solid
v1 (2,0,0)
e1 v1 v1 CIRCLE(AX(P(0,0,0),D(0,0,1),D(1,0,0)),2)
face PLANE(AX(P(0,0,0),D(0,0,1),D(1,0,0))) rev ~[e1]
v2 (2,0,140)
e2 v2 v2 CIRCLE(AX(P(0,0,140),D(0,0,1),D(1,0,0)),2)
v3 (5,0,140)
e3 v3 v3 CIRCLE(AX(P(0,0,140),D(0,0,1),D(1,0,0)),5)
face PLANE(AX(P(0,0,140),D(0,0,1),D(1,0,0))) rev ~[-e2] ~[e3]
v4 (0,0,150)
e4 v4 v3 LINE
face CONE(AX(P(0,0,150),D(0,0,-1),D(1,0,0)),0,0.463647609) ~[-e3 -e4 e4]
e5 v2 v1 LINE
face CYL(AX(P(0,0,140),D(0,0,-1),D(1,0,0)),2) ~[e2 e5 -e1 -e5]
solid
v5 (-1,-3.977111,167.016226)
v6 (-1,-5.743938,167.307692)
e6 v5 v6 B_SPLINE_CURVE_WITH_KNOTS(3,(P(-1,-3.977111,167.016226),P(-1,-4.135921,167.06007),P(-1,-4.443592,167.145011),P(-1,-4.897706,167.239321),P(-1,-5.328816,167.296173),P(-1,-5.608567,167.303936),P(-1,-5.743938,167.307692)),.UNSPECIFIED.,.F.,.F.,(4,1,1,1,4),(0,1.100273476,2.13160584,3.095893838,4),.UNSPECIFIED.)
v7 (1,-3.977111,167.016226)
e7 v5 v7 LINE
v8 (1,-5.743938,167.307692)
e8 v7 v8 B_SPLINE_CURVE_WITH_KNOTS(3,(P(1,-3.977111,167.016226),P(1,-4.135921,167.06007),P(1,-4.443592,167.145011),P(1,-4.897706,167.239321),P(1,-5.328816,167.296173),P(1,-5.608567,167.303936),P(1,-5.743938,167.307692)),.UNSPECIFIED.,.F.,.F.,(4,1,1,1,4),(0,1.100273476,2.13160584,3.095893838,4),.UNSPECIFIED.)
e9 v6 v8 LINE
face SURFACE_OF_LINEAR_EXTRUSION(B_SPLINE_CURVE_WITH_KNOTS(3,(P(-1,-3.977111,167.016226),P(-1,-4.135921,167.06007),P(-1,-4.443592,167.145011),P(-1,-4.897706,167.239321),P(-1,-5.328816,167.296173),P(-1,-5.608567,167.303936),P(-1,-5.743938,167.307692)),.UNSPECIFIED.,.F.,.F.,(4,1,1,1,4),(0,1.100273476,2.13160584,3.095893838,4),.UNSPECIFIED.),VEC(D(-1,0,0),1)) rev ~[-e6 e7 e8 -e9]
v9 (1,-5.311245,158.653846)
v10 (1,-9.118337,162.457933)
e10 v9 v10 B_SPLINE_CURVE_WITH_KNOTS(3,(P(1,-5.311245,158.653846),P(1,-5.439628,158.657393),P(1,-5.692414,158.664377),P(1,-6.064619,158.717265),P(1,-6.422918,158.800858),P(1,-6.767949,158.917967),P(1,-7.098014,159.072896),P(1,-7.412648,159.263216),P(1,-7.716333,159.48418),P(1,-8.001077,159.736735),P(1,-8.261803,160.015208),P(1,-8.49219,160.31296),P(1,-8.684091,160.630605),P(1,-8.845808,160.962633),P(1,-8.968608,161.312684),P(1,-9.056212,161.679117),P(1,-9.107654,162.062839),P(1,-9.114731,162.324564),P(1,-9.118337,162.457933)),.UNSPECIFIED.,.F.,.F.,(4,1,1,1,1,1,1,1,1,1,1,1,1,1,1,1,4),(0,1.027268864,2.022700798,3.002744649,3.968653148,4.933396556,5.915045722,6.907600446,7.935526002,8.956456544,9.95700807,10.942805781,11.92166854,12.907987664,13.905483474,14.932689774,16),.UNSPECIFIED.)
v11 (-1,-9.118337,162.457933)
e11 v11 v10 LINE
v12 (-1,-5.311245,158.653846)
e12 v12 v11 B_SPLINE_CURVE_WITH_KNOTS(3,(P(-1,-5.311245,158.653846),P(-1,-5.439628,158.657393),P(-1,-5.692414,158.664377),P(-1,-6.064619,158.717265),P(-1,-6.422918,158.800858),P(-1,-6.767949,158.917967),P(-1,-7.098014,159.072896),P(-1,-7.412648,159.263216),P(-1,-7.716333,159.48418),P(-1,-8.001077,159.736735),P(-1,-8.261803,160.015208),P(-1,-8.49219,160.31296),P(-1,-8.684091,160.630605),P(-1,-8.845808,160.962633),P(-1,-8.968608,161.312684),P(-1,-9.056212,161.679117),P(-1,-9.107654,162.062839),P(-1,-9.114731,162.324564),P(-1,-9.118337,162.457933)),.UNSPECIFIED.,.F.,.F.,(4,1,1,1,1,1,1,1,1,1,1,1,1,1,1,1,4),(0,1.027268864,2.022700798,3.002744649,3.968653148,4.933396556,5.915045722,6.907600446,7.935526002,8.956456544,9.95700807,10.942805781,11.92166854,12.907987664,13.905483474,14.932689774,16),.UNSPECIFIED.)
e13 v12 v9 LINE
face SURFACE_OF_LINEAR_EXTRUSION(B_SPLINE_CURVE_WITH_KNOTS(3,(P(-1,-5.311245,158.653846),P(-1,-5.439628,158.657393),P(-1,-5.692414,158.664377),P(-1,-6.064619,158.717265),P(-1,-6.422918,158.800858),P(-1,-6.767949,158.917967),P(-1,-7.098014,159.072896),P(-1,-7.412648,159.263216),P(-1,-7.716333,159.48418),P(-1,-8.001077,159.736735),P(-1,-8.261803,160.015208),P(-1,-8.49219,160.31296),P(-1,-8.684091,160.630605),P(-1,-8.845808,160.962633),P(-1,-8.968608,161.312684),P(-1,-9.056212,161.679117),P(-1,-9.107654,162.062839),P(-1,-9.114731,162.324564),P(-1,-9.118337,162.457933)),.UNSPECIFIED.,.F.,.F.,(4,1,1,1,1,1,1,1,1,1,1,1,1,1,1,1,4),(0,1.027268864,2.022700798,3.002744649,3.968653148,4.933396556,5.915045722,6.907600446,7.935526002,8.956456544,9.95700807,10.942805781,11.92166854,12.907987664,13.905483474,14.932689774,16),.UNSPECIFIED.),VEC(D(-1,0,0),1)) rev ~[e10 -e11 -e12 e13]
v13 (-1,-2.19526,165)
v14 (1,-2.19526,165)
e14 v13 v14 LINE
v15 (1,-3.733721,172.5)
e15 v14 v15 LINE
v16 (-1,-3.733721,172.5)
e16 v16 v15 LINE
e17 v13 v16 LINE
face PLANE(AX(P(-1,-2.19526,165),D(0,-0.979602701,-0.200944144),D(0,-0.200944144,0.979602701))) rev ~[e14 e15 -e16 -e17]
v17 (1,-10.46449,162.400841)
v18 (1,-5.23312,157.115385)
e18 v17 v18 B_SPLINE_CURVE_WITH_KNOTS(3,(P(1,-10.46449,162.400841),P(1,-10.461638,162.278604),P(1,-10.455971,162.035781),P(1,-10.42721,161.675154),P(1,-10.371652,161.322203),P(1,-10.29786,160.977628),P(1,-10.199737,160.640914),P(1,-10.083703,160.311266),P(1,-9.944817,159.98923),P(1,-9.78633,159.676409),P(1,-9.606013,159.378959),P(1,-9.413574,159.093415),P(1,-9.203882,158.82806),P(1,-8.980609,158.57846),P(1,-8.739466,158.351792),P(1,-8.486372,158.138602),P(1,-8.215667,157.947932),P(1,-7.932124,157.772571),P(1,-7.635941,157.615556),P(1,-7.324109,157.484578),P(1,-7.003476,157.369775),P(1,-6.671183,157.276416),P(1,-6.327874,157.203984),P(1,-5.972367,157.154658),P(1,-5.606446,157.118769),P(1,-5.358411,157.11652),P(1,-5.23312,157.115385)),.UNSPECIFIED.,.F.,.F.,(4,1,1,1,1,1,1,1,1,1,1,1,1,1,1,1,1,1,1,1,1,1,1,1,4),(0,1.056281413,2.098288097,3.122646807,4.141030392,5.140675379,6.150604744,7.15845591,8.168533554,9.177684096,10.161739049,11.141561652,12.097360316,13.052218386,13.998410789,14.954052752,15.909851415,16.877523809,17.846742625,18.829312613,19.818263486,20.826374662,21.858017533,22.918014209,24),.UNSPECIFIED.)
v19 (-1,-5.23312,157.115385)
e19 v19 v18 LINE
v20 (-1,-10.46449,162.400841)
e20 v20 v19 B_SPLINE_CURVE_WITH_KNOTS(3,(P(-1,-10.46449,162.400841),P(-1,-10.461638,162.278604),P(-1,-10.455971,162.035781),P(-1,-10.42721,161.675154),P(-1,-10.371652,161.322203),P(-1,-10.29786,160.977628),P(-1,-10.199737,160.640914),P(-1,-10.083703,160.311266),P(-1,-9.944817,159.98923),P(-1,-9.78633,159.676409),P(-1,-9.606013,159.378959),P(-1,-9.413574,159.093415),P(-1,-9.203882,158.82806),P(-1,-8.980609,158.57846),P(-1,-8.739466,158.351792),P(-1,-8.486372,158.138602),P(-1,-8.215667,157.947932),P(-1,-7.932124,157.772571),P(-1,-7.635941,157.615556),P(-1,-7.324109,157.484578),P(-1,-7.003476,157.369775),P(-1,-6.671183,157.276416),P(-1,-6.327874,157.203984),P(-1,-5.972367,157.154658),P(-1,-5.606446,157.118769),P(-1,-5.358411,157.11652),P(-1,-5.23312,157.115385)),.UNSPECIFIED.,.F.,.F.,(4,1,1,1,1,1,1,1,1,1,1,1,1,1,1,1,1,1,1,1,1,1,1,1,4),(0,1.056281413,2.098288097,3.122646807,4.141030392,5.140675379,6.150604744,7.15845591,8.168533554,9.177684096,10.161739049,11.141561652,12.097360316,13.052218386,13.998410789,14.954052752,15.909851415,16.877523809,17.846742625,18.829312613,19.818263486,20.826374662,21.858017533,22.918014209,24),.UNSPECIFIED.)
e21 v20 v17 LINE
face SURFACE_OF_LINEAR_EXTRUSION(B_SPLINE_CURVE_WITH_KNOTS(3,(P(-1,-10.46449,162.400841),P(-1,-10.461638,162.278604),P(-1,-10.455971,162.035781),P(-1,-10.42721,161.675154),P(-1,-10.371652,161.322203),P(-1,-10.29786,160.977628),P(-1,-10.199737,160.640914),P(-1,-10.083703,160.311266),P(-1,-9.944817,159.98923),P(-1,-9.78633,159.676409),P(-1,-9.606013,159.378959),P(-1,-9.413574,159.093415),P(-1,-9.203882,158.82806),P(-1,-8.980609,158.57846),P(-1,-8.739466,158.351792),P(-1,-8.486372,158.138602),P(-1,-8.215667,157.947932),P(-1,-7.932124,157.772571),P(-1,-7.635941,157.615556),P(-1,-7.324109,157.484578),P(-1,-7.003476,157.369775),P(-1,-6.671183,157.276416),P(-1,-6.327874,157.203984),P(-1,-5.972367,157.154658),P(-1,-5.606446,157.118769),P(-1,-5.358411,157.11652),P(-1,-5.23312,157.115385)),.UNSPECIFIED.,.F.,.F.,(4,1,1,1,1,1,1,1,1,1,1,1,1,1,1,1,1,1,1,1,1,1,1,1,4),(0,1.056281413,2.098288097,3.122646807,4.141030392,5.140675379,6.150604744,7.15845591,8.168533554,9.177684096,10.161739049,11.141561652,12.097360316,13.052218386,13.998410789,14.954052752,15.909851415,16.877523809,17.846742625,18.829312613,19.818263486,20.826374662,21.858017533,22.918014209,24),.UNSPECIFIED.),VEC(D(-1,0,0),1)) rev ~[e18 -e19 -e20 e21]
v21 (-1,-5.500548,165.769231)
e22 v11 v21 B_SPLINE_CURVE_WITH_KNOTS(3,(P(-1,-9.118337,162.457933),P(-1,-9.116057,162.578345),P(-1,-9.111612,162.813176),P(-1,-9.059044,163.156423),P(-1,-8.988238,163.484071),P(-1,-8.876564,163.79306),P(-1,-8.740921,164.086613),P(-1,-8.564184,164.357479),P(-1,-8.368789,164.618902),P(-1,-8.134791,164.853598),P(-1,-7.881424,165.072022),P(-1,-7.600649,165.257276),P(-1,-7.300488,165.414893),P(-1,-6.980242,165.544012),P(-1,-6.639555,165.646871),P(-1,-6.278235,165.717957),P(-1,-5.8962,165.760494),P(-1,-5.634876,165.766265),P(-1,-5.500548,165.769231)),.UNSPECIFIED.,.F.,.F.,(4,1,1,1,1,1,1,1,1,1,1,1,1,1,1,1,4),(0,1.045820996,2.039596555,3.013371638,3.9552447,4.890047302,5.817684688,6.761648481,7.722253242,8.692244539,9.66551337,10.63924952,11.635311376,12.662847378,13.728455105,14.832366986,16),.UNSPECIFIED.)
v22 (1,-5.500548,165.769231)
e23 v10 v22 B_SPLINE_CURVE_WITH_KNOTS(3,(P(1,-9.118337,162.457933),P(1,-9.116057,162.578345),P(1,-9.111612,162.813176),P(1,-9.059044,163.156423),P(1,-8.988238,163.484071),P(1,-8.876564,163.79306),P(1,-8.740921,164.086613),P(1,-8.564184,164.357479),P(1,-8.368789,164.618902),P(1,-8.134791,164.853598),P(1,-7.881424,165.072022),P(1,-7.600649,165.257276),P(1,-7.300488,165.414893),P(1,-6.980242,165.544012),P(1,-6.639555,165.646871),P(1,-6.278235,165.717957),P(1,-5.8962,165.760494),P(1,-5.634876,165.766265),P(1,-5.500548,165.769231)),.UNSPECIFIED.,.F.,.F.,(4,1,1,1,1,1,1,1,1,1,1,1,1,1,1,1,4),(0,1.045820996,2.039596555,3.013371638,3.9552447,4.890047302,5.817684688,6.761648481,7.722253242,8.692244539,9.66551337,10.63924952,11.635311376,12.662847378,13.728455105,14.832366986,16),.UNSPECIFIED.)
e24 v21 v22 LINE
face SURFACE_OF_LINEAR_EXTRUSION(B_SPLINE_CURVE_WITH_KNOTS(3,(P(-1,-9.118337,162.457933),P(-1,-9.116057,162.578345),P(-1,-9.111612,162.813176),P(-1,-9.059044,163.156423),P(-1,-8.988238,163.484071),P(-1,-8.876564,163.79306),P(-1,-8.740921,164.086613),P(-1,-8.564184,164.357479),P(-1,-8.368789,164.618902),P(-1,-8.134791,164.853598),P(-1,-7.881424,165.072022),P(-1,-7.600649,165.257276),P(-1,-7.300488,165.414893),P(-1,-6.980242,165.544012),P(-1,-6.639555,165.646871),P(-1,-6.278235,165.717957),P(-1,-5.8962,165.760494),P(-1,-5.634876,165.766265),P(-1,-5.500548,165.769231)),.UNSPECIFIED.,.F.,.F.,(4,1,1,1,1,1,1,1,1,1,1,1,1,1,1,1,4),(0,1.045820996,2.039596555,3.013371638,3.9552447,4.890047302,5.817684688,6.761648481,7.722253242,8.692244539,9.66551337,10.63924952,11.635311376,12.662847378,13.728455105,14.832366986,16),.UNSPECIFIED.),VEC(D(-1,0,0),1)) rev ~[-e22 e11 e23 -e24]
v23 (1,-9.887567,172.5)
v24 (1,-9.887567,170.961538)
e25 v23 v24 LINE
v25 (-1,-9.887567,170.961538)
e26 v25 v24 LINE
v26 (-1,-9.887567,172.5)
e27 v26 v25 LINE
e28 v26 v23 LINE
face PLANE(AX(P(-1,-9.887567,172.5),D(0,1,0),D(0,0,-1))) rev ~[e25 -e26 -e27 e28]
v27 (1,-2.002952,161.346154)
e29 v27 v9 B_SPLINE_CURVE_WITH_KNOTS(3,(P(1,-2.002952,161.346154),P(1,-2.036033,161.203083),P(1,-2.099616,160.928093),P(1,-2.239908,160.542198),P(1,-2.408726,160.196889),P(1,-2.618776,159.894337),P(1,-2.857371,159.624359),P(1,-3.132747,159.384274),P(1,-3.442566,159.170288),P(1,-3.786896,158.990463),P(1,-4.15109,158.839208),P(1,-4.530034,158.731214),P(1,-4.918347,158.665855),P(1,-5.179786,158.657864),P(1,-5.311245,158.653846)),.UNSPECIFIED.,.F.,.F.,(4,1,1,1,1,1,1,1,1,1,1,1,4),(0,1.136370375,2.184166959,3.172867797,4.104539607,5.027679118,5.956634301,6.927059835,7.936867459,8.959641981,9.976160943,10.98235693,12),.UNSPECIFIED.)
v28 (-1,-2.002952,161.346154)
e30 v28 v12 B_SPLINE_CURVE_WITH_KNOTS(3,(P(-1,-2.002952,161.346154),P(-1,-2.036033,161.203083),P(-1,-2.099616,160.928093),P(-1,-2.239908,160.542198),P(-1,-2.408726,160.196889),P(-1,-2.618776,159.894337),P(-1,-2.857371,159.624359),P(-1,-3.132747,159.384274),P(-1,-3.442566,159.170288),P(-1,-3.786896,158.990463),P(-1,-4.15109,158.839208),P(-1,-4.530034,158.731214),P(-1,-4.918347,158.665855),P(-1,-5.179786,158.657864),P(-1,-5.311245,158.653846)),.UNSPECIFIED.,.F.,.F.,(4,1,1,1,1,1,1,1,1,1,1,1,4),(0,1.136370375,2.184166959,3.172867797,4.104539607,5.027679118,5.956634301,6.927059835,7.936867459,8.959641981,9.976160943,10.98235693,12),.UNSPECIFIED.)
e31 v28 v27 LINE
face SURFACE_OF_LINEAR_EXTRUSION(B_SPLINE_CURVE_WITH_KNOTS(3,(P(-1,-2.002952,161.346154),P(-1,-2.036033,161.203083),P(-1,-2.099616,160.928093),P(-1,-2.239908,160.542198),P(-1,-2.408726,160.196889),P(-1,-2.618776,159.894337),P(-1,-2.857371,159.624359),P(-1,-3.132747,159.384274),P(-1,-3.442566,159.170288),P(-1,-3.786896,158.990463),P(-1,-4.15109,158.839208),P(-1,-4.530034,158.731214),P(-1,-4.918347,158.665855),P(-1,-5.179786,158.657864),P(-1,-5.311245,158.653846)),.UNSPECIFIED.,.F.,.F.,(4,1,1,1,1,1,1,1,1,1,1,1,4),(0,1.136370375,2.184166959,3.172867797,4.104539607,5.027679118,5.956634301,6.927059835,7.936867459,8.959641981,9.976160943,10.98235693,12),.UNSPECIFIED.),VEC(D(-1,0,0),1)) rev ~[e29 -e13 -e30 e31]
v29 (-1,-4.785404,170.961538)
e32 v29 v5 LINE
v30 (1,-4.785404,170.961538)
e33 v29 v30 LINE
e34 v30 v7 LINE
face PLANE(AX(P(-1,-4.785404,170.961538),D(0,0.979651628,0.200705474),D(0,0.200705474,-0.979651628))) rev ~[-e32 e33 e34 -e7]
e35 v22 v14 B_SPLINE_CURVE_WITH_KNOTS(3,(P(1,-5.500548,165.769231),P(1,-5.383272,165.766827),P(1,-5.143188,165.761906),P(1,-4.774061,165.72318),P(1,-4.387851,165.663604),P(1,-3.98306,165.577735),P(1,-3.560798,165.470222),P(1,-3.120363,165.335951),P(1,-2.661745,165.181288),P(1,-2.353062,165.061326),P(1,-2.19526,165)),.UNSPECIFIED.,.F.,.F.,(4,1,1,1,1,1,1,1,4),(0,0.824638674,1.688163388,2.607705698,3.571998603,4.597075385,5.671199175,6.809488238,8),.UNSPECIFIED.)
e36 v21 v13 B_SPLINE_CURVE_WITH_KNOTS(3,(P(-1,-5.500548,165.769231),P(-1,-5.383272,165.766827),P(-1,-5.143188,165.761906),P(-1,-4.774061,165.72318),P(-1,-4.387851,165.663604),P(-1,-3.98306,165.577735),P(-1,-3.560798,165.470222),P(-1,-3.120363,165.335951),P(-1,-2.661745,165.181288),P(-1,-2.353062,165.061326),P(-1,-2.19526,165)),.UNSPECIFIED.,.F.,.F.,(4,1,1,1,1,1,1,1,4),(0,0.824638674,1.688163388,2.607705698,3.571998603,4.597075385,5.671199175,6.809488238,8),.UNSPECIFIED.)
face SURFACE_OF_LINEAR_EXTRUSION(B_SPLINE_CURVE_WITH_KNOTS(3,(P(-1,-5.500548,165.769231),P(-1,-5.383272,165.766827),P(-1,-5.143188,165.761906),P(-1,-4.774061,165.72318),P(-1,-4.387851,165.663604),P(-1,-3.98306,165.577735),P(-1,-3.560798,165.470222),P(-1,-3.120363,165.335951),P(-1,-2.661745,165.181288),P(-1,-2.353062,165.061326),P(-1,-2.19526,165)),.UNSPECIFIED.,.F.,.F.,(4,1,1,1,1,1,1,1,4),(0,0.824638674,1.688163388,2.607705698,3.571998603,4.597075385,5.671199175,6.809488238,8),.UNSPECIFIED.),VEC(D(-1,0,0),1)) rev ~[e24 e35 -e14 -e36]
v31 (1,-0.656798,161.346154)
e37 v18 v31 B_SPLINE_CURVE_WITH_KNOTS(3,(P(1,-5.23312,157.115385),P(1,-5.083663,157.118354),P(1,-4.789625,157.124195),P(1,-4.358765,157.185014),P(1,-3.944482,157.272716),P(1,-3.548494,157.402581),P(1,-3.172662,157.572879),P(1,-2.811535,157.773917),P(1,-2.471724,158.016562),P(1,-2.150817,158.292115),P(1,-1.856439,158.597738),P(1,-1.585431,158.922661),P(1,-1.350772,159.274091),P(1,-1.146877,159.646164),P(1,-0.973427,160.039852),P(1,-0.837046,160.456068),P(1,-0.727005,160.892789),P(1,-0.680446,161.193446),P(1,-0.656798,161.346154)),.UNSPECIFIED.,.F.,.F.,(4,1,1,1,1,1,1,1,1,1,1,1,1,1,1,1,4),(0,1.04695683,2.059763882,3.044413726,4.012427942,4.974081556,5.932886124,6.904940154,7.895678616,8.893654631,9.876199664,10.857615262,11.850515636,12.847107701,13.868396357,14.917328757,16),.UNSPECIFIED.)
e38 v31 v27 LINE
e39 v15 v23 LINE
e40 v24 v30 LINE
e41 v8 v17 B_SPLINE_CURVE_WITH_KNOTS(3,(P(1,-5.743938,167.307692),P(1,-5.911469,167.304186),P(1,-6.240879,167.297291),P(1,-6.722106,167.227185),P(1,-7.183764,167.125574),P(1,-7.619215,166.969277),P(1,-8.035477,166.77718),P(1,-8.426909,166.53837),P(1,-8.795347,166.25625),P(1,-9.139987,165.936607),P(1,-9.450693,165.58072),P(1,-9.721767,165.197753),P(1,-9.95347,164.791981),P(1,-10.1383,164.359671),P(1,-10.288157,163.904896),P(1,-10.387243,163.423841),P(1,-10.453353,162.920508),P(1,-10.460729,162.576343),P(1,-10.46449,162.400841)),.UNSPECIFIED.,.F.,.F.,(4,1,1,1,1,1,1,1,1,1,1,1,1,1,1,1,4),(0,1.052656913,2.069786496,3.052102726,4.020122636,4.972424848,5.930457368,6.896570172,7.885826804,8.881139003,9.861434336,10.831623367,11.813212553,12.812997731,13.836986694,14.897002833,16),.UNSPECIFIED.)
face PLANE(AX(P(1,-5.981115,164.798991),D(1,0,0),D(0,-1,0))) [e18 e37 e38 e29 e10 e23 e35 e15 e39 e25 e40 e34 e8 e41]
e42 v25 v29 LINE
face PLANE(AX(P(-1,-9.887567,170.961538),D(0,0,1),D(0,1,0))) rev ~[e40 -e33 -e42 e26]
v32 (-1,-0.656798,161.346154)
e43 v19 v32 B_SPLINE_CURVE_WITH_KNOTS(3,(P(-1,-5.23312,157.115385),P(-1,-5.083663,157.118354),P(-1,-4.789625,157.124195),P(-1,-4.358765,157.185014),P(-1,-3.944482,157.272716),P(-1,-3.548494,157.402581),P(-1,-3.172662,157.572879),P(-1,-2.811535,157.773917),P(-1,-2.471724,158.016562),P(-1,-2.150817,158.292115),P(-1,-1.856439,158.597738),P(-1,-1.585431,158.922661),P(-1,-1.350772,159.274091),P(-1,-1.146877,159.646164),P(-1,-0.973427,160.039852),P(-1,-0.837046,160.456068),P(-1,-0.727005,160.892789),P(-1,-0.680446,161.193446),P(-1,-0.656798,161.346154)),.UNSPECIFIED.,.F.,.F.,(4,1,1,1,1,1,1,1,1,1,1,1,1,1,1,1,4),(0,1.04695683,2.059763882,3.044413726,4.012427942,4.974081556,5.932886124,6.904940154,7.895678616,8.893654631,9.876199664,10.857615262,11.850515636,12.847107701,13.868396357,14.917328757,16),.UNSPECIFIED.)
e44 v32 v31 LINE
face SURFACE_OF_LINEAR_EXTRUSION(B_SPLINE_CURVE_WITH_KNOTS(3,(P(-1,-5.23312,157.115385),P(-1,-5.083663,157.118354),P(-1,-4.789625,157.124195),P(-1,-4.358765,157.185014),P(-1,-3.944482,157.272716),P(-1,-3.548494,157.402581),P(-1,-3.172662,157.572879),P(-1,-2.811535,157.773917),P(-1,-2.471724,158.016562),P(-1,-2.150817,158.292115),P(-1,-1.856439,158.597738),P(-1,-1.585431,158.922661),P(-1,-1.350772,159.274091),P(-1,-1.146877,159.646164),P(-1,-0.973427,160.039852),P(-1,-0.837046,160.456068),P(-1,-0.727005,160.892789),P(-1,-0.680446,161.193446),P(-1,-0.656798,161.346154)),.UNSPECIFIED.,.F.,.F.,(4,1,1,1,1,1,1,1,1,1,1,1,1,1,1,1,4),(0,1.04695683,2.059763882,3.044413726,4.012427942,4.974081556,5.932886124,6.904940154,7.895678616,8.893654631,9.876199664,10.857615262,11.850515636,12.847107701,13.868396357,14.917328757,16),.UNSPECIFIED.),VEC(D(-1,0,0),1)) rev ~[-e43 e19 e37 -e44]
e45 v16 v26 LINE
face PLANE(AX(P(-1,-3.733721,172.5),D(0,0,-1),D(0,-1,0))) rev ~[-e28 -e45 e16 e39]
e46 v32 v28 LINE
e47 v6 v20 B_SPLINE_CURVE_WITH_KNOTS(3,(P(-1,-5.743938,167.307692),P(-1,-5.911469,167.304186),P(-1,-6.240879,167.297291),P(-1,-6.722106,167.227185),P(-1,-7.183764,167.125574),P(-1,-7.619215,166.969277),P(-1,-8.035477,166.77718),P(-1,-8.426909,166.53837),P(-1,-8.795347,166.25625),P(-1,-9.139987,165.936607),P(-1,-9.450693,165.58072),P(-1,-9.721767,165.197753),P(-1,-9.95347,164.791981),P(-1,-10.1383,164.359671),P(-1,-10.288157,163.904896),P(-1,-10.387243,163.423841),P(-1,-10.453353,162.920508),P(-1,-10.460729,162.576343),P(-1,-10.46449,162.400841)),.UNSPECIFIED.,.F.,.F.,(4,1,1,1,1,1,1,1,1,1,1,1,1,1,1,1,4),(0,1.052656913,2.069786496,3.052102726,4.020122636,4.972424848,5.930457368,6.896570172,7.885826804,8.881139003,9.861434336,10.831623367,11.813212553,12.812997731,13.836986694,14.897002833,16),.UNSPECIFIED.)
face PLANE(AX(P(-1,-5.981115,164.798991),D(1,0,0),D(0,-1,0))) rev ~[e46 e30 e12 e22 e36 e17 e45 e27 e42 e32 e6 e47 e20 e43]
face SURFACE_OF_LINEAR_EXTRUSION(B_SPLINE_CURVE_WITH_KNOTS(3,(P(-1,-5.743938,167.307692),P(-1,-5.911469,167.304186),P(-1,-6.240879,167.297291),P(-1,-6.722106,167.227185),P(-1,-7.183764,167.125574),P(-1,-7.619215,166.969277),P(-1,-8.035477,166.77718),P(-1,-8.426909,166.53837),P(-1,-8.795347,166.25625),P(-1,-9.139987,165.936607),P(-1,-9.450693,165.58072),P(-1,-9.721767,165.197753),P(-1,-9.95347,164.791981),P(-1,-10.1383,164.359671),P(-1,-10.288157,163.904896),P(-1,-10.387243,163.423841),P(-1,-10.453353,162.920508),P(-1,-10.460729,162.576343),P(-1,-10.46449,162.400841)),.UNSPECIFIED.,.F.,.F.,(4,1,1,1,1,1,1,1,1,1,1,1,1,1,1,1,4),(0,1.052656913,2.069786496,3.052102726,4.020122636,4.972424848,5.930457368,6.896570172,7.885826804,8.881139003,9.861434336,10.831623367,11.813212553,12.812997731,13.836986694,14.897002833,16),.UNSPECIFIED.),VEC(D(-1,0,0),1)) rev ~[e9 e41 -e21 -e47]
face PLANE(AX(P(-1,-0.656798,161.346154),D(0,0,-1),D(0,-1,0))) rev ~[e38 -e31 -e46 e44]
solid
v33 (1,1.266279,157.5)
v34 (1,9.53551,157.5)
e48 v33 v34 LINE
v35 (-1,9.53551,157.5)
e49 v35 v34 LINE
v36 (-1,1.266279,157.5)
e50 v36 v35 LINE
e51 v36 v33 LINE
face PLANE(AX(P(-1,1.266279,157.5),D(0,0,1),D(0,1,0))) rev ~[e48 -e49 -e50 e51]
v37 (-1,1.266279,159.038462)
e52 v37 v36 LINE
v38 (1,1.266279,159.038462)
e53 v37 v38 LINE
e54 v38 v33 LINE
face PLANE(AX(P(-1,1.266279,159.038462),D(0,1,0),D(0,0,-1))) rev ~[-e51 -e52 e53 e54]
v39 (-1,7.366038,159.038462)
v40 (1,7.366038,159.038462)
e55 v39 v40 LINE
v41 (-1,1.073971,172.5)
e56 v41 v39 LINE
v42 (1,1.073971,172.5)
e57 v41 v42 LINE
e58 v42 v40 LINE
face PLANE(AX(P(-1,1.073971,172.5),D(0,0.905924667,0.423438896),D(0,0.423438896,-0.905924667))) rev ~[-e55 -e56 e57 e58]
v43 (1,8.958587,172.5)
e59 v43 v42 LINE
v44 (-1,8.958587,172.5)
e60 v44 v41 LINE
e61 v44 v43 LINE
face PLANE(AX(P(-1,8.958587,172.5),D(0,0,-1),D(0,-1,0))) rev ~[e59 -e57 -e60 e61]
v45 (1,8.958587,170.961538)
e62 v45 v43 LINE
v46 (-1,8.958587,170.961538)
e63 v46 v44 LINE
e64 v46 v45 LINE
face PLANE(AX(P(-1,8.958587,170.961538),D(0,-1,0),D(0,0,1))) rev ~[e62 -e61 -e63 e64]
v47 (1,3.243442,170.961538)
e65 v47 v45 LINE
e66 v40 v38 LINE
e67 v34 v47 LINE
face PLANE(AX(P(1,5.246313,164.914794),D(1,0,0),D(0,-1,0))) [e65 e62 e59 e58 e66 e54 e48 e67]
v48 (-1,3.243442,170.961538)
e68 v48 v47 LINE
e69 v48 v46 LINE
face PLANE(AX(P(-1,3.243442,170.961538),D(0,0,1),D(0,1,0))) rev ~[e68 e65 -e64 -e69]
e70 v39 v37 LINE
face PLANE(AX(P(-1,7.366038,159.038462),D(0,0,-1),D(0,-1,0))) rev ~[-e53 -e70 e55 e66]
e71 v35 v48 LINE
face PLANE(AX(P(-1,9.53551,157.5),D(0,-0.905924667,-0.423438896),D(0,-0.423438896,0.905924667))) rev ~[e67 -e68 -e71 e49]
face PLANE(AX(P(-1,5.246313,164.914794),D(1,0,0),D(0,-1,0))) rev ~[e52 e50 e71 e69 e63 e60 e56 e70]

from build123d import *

# Parameters (mm, degrees)
BOSS_EXTRUDE1_DEPTH        = 1
BOSS_EXTRUDE1_DEPTH_BACK   = 1
BOSS_EXTRUDE1_2_DEPTH      = 1
BOSS_EXTRUDE1_2_DEPTH_BACK = 1


with BuildPart() as part:
    # Sketch2 → Revolve1 (revolve)
    with BuildSketch(Plane(origin=(0, 0, 0), x_dir=(1, 0, 0), z_dir=(0, 1, 0))):
        Polygon((0, -150), (5, -140), (2, -140), (2, 0), (0, 0), align=None)
    revolve(axis=Axis((0, 0, -41.949952025), (0, 0, 1)))


with BuildPart() as body_2:
    # Sketch3 → Boss-Extrude1 (new, two sides: drawn at the far end of the back side and taken through both)
    with BuildSketch(Plane(origin=(0, 0, 0), x_dir=(0, -1, 0), z_dir=(1, 0, 0)).offset(-BOSS_EXTRUDE1_DEPTH_BACK)):
        Polygon((-8.958586521, -170.961538462), (-8.958586521, -172.5), (-1.073971137, -172.5), (-7.366038444, -159.038461538), (-1.266278829, -159.038461538), (-1.266278829, -157.5), (-9.535509598, -157.5), (-3.243442291, -170.961538462), align=None)
    extrude(amount=BOSS_EXTRUDE1_DEPTH + BOSS_EXTRUDE1_DEPTH_BACK)


with BuildPart() as body_3:
    # Sketch3 → Boss-Extrude1 2 (new, two sides: drawn at the far end of the back side and taken through both)
    with BuildSketch(Plane(origin=(0, 0, 0), x_dir=(0, -1, 0), z_dir=(1, 0, 0)).offset(-BOSS_EXTRUDE1_2_DEPTH_BACK)):
        with BuildLine():
            Line((9.887567325, -172.5), (9.887567325, -170.961538462))
            Line((9.887567325, -170.961538462), (4.785403863, -170.961538462))
            Line((4.785403863, -170.961538462), (3.977110594, -167.016225962))
            add(Edge.make_bspline(
                [(3.977110594, -167.016225962), (4.135921484, -167.060069984), (4.443592466, -167.145010842), (4.897706156, -167.239321287), (5.3288156, -167.29617319), (5.608567187, -167.303935949), (5.743937517, -167.307692308)],
                knots=[0, 0, 0, 0, 1.100273476, 2.13160584, 3.095893838, 4, 4, 4, 4], degree=3))
            add(Edge.make_bspline(
                [(5.743937517, -167.307692308), (5.911469427, -167.304185649), (6.24087902, -167.297290681), (6.722105689, -167.227184909), (7.183764435, -167.125573837), (7.619214914, -166.969276616), (8.035477483, -166.777179721), (8.426908648, -166.538369816), (8.795347102, -166.256249819), (9.139987498, -165.936607073), (9.450692918, -165.58071989), (9.721766713, -165.197753494), (9.953469806, -164.791981219), (10.13830025, -164.359670651), (10.288157328, -163.904895851), (10.387242998, -163.423840767), (10.453352538, -162.920507804), (10.460728922, -162.57634312), (10.464490402, -162.400841346)],
                knots=[0, 0, 0, 0, 1.052656913, 2.069786496, 3.052102726, 4.020122636, 4.972424848, 5.930457368, 6.896570172, 7.885826804, 8.881139003, 9.861434336, 10.831623367, 11.813212553, 12.812997731, 13.836986694, 14.897002833, 16, 16, 16, 16], degree=3))
            add(Edge.make_bspline(
                [(10.464490402, -162.400841346), (10.461637896, -162.278603862), (10.455971432, -162.035780828), (10.4272095, -161.675153979), (10.371651619, -161.322203317), (10.297859754, -160.977627952), (10.199737382, -160.640913658), (10.083702808, -160.311265984), (9.94481725, -159.989230296), (9.78632982, -159.676409009), (9.606012689, -159.378959247), (9.41357379, -159.093415078), (9.203882177, -158.828060432), (8.980608649, -158.578459857), (8.739466144, -158.351792308), (8.486372312, -158.13860225), (8.215667474, -157.947932487), (7.932123942, -157.772571018), (7.635940617, -157.615556084), (7.324108821, -157.484578375), (7.003475543, -157.36977506), (6.671182611, -157.276416452), (6.327873889, -157.203983651), (5.972367137, -157.1546579), (5.606446231, -157.118769123), (5.358410975, -157.116520479), (5.233120209, -157.115384615)],
                knots=[0, 0, 0, 0, 1.056281413, 2.098288097, 3.122646807, 4.141030392, 5.140675379, 6.150604744, 7.15845591, 8.168533554, 9.177684096, 10.161739049, 11.141561652, 12.097360316, 13.052218386, 13.998410789, 14.954052752, 15.909851415, 16.877523809, 17.846742625, 18.829312613, 19.818263486, 20.826374662, 21.858017533, 22.918014209, 24, 24, 24, 24], degree=3))
            add(Edge.make_bspline(
                [(5.233120209, -157.115384615), (5.083663432, -157.118353573), (4.789624879, -157.124194647), (4.358765469, -157.185013786), (3.944482382, -157.272715803), (3.548493848, -157.402581355), (3.17266208, -157.572879113), (2.811535272, -157.773917029), (2.471723833, -158.016561831), (2.150816973, -158.292114808), (1.856439093, -158.597737608), (1.585431088, -158.922660627), (1.350772111, -159.274090548), (1.146876605, -159.646164401), (0.973427436, -160.03985218), (0.837046103, -160.456067664), (0.72700461, -160.892789077), (0.680445908, -161.193445999), (0.656798094, -161.346153846)],
                knots=[0, 0, 0, 0, 1.04695683, 2.059763882, 3.044413726, 4.012427942, 4.974081556, 5.932886124, 6.904940154, 7.895678616, 8.893654631, 9.876199664, 10.857615262, 11.850515636, 12.847107701, 13.868396357, 14.917328757, 16, 16, 16, 16], degree=3))
            Line((0.656798094, -161.346153846), (2.00295194, -161.346153846))
            add(Edge.make_bspline(
                [(2.00295194, -161.346153846), (2.036032743, -161.203083199), (2.099615882, -160.928093472), (2.23990822, -160.542198326), (2.408726247, -160.196889026), (2.618776332, -159.894337129), (2.857370729, -159.624358707), (3.132747288, -159.384274178), (3.442565873, -159.170288137), (3.786895688, -158.990462771), (4.151090117, -158.839207909), (4.530034101, -158.731213569), (4.918346783, -158.665854967), (5.179786156, -158.657864157), (5.311245209, -158.653846154)],
                knots=[0, 0, 0, 0, 1.136370375, 2.184166959, 3.172867797, 4.104539607, 5.027679118, 5.956634301, 6.927059835, 7.936867459, 8.959641981, 9.976160943, 10.98235693, 12, 12, 12, 12], degree=3))
            add(Edge.make_bspline(
                [(5.311245209, -158.653846154), (5.439627651, -158.657393206), (5.692413729, -158.66437738), (6.064618753, -158.717265273), (6.422918413, -158.800858252), (6.767948739, -158.917967227), (7.098014319, -159.072895535), (7.412648474, -159.263216032), (7.716333445, -159.484180393), (8.0010767, -159.736734594), (8.26180345, -160.01520754), (8.49219042, -160.312959591), (8.684090536, -160.630605369), (8.845808395, -160.962632597), (8.96860818, -161.31268371), (9.056212403, -161.679117276), (9.107654079, -162.062838631), (9.114730565, -162.324564243), (9.118336556, -162.457932692)],
                knots=[0, 0, 0, 0, 1.027268864, 2.022700798, 3.002744649, 3.968653148, 4.933396556, 5.915045722, 6.907600446, 7.935526002, 8.956456544, 9.95700807, 10.942805781, 11.92166854, 12.907987664, 13.905483474, 14.932689774, 16, 16, 16, 16], degree=3))
            add(Edge.make_bspline(
                [(9.118336556, -162.457932692), (9.11605731, -162.578344541), (9.111612247, -162.813175926), (9.059043658, -163.156423063), (8.98823791, -163.484071376), (8.876564493, -163.793059521), (8.740921344, -164.086613326), (8.564183938, -164.357479425), (8.36878926, -164.618902079), (8.134790794, -164.853598193), (7.88142437, -165.072021918), (7.600648632, -165.257275951), (7.300487573, -165.414892638), (6.980241671, -165.54401236), (6.639555436, -165.646871335), (6.27823456, -165.71795725), (5.896199729, -165.760494324), (5.634875518, -165.766264664), (5.500548094, -165.769230769)],
                knots=[0, 0, 0, 0, 1.045820996, 2.039596555, 3.013371638, 3.9552447, 4.890047302, 5.817684688, 6.761648481, 7.722253242, 8.692244539, 9.66551337, 10.63924952, 11.635311376, 12.662847378, 13.728455105, 14.832366986, 16, 16, 16, 16], degree=3))
            add(Edge.make_bspline(
                [(5.500548094, -165.769230769), (5.383271567, -165.766827016), (5.14318831, -165.76190616), (4.774060713, -165.723180046), (4.387850998, -165.663603645), (3.983059776, -165.57773504), (3.560797928, -165.470221633), (3.120363225, -165.335950868), (2.661745026, -165.18128788), (2.353062139, -165.061325997), (2.195259633, -165)],
                knots=[0, 0, 0, 0, 0.824638674, 1.688163388, 2.607705698, 3.571998603, 4.597075385, 5.671199175, 6.809488238, 8, 8, 8, 8], degree=3))
            Line((2.195259633, -165), (3.733721171, -172.5))
            Line((3.733721171, -172.5), (9.887567325, -172.5))
        make_face()
    extrude(amount=BOSS_EXTRUDE1_2_DEPTH + BOSS_EXTRUDE1_2_DEPTH_BACK)


solid = Compound([part.part, body_2.part, body_3.part])
